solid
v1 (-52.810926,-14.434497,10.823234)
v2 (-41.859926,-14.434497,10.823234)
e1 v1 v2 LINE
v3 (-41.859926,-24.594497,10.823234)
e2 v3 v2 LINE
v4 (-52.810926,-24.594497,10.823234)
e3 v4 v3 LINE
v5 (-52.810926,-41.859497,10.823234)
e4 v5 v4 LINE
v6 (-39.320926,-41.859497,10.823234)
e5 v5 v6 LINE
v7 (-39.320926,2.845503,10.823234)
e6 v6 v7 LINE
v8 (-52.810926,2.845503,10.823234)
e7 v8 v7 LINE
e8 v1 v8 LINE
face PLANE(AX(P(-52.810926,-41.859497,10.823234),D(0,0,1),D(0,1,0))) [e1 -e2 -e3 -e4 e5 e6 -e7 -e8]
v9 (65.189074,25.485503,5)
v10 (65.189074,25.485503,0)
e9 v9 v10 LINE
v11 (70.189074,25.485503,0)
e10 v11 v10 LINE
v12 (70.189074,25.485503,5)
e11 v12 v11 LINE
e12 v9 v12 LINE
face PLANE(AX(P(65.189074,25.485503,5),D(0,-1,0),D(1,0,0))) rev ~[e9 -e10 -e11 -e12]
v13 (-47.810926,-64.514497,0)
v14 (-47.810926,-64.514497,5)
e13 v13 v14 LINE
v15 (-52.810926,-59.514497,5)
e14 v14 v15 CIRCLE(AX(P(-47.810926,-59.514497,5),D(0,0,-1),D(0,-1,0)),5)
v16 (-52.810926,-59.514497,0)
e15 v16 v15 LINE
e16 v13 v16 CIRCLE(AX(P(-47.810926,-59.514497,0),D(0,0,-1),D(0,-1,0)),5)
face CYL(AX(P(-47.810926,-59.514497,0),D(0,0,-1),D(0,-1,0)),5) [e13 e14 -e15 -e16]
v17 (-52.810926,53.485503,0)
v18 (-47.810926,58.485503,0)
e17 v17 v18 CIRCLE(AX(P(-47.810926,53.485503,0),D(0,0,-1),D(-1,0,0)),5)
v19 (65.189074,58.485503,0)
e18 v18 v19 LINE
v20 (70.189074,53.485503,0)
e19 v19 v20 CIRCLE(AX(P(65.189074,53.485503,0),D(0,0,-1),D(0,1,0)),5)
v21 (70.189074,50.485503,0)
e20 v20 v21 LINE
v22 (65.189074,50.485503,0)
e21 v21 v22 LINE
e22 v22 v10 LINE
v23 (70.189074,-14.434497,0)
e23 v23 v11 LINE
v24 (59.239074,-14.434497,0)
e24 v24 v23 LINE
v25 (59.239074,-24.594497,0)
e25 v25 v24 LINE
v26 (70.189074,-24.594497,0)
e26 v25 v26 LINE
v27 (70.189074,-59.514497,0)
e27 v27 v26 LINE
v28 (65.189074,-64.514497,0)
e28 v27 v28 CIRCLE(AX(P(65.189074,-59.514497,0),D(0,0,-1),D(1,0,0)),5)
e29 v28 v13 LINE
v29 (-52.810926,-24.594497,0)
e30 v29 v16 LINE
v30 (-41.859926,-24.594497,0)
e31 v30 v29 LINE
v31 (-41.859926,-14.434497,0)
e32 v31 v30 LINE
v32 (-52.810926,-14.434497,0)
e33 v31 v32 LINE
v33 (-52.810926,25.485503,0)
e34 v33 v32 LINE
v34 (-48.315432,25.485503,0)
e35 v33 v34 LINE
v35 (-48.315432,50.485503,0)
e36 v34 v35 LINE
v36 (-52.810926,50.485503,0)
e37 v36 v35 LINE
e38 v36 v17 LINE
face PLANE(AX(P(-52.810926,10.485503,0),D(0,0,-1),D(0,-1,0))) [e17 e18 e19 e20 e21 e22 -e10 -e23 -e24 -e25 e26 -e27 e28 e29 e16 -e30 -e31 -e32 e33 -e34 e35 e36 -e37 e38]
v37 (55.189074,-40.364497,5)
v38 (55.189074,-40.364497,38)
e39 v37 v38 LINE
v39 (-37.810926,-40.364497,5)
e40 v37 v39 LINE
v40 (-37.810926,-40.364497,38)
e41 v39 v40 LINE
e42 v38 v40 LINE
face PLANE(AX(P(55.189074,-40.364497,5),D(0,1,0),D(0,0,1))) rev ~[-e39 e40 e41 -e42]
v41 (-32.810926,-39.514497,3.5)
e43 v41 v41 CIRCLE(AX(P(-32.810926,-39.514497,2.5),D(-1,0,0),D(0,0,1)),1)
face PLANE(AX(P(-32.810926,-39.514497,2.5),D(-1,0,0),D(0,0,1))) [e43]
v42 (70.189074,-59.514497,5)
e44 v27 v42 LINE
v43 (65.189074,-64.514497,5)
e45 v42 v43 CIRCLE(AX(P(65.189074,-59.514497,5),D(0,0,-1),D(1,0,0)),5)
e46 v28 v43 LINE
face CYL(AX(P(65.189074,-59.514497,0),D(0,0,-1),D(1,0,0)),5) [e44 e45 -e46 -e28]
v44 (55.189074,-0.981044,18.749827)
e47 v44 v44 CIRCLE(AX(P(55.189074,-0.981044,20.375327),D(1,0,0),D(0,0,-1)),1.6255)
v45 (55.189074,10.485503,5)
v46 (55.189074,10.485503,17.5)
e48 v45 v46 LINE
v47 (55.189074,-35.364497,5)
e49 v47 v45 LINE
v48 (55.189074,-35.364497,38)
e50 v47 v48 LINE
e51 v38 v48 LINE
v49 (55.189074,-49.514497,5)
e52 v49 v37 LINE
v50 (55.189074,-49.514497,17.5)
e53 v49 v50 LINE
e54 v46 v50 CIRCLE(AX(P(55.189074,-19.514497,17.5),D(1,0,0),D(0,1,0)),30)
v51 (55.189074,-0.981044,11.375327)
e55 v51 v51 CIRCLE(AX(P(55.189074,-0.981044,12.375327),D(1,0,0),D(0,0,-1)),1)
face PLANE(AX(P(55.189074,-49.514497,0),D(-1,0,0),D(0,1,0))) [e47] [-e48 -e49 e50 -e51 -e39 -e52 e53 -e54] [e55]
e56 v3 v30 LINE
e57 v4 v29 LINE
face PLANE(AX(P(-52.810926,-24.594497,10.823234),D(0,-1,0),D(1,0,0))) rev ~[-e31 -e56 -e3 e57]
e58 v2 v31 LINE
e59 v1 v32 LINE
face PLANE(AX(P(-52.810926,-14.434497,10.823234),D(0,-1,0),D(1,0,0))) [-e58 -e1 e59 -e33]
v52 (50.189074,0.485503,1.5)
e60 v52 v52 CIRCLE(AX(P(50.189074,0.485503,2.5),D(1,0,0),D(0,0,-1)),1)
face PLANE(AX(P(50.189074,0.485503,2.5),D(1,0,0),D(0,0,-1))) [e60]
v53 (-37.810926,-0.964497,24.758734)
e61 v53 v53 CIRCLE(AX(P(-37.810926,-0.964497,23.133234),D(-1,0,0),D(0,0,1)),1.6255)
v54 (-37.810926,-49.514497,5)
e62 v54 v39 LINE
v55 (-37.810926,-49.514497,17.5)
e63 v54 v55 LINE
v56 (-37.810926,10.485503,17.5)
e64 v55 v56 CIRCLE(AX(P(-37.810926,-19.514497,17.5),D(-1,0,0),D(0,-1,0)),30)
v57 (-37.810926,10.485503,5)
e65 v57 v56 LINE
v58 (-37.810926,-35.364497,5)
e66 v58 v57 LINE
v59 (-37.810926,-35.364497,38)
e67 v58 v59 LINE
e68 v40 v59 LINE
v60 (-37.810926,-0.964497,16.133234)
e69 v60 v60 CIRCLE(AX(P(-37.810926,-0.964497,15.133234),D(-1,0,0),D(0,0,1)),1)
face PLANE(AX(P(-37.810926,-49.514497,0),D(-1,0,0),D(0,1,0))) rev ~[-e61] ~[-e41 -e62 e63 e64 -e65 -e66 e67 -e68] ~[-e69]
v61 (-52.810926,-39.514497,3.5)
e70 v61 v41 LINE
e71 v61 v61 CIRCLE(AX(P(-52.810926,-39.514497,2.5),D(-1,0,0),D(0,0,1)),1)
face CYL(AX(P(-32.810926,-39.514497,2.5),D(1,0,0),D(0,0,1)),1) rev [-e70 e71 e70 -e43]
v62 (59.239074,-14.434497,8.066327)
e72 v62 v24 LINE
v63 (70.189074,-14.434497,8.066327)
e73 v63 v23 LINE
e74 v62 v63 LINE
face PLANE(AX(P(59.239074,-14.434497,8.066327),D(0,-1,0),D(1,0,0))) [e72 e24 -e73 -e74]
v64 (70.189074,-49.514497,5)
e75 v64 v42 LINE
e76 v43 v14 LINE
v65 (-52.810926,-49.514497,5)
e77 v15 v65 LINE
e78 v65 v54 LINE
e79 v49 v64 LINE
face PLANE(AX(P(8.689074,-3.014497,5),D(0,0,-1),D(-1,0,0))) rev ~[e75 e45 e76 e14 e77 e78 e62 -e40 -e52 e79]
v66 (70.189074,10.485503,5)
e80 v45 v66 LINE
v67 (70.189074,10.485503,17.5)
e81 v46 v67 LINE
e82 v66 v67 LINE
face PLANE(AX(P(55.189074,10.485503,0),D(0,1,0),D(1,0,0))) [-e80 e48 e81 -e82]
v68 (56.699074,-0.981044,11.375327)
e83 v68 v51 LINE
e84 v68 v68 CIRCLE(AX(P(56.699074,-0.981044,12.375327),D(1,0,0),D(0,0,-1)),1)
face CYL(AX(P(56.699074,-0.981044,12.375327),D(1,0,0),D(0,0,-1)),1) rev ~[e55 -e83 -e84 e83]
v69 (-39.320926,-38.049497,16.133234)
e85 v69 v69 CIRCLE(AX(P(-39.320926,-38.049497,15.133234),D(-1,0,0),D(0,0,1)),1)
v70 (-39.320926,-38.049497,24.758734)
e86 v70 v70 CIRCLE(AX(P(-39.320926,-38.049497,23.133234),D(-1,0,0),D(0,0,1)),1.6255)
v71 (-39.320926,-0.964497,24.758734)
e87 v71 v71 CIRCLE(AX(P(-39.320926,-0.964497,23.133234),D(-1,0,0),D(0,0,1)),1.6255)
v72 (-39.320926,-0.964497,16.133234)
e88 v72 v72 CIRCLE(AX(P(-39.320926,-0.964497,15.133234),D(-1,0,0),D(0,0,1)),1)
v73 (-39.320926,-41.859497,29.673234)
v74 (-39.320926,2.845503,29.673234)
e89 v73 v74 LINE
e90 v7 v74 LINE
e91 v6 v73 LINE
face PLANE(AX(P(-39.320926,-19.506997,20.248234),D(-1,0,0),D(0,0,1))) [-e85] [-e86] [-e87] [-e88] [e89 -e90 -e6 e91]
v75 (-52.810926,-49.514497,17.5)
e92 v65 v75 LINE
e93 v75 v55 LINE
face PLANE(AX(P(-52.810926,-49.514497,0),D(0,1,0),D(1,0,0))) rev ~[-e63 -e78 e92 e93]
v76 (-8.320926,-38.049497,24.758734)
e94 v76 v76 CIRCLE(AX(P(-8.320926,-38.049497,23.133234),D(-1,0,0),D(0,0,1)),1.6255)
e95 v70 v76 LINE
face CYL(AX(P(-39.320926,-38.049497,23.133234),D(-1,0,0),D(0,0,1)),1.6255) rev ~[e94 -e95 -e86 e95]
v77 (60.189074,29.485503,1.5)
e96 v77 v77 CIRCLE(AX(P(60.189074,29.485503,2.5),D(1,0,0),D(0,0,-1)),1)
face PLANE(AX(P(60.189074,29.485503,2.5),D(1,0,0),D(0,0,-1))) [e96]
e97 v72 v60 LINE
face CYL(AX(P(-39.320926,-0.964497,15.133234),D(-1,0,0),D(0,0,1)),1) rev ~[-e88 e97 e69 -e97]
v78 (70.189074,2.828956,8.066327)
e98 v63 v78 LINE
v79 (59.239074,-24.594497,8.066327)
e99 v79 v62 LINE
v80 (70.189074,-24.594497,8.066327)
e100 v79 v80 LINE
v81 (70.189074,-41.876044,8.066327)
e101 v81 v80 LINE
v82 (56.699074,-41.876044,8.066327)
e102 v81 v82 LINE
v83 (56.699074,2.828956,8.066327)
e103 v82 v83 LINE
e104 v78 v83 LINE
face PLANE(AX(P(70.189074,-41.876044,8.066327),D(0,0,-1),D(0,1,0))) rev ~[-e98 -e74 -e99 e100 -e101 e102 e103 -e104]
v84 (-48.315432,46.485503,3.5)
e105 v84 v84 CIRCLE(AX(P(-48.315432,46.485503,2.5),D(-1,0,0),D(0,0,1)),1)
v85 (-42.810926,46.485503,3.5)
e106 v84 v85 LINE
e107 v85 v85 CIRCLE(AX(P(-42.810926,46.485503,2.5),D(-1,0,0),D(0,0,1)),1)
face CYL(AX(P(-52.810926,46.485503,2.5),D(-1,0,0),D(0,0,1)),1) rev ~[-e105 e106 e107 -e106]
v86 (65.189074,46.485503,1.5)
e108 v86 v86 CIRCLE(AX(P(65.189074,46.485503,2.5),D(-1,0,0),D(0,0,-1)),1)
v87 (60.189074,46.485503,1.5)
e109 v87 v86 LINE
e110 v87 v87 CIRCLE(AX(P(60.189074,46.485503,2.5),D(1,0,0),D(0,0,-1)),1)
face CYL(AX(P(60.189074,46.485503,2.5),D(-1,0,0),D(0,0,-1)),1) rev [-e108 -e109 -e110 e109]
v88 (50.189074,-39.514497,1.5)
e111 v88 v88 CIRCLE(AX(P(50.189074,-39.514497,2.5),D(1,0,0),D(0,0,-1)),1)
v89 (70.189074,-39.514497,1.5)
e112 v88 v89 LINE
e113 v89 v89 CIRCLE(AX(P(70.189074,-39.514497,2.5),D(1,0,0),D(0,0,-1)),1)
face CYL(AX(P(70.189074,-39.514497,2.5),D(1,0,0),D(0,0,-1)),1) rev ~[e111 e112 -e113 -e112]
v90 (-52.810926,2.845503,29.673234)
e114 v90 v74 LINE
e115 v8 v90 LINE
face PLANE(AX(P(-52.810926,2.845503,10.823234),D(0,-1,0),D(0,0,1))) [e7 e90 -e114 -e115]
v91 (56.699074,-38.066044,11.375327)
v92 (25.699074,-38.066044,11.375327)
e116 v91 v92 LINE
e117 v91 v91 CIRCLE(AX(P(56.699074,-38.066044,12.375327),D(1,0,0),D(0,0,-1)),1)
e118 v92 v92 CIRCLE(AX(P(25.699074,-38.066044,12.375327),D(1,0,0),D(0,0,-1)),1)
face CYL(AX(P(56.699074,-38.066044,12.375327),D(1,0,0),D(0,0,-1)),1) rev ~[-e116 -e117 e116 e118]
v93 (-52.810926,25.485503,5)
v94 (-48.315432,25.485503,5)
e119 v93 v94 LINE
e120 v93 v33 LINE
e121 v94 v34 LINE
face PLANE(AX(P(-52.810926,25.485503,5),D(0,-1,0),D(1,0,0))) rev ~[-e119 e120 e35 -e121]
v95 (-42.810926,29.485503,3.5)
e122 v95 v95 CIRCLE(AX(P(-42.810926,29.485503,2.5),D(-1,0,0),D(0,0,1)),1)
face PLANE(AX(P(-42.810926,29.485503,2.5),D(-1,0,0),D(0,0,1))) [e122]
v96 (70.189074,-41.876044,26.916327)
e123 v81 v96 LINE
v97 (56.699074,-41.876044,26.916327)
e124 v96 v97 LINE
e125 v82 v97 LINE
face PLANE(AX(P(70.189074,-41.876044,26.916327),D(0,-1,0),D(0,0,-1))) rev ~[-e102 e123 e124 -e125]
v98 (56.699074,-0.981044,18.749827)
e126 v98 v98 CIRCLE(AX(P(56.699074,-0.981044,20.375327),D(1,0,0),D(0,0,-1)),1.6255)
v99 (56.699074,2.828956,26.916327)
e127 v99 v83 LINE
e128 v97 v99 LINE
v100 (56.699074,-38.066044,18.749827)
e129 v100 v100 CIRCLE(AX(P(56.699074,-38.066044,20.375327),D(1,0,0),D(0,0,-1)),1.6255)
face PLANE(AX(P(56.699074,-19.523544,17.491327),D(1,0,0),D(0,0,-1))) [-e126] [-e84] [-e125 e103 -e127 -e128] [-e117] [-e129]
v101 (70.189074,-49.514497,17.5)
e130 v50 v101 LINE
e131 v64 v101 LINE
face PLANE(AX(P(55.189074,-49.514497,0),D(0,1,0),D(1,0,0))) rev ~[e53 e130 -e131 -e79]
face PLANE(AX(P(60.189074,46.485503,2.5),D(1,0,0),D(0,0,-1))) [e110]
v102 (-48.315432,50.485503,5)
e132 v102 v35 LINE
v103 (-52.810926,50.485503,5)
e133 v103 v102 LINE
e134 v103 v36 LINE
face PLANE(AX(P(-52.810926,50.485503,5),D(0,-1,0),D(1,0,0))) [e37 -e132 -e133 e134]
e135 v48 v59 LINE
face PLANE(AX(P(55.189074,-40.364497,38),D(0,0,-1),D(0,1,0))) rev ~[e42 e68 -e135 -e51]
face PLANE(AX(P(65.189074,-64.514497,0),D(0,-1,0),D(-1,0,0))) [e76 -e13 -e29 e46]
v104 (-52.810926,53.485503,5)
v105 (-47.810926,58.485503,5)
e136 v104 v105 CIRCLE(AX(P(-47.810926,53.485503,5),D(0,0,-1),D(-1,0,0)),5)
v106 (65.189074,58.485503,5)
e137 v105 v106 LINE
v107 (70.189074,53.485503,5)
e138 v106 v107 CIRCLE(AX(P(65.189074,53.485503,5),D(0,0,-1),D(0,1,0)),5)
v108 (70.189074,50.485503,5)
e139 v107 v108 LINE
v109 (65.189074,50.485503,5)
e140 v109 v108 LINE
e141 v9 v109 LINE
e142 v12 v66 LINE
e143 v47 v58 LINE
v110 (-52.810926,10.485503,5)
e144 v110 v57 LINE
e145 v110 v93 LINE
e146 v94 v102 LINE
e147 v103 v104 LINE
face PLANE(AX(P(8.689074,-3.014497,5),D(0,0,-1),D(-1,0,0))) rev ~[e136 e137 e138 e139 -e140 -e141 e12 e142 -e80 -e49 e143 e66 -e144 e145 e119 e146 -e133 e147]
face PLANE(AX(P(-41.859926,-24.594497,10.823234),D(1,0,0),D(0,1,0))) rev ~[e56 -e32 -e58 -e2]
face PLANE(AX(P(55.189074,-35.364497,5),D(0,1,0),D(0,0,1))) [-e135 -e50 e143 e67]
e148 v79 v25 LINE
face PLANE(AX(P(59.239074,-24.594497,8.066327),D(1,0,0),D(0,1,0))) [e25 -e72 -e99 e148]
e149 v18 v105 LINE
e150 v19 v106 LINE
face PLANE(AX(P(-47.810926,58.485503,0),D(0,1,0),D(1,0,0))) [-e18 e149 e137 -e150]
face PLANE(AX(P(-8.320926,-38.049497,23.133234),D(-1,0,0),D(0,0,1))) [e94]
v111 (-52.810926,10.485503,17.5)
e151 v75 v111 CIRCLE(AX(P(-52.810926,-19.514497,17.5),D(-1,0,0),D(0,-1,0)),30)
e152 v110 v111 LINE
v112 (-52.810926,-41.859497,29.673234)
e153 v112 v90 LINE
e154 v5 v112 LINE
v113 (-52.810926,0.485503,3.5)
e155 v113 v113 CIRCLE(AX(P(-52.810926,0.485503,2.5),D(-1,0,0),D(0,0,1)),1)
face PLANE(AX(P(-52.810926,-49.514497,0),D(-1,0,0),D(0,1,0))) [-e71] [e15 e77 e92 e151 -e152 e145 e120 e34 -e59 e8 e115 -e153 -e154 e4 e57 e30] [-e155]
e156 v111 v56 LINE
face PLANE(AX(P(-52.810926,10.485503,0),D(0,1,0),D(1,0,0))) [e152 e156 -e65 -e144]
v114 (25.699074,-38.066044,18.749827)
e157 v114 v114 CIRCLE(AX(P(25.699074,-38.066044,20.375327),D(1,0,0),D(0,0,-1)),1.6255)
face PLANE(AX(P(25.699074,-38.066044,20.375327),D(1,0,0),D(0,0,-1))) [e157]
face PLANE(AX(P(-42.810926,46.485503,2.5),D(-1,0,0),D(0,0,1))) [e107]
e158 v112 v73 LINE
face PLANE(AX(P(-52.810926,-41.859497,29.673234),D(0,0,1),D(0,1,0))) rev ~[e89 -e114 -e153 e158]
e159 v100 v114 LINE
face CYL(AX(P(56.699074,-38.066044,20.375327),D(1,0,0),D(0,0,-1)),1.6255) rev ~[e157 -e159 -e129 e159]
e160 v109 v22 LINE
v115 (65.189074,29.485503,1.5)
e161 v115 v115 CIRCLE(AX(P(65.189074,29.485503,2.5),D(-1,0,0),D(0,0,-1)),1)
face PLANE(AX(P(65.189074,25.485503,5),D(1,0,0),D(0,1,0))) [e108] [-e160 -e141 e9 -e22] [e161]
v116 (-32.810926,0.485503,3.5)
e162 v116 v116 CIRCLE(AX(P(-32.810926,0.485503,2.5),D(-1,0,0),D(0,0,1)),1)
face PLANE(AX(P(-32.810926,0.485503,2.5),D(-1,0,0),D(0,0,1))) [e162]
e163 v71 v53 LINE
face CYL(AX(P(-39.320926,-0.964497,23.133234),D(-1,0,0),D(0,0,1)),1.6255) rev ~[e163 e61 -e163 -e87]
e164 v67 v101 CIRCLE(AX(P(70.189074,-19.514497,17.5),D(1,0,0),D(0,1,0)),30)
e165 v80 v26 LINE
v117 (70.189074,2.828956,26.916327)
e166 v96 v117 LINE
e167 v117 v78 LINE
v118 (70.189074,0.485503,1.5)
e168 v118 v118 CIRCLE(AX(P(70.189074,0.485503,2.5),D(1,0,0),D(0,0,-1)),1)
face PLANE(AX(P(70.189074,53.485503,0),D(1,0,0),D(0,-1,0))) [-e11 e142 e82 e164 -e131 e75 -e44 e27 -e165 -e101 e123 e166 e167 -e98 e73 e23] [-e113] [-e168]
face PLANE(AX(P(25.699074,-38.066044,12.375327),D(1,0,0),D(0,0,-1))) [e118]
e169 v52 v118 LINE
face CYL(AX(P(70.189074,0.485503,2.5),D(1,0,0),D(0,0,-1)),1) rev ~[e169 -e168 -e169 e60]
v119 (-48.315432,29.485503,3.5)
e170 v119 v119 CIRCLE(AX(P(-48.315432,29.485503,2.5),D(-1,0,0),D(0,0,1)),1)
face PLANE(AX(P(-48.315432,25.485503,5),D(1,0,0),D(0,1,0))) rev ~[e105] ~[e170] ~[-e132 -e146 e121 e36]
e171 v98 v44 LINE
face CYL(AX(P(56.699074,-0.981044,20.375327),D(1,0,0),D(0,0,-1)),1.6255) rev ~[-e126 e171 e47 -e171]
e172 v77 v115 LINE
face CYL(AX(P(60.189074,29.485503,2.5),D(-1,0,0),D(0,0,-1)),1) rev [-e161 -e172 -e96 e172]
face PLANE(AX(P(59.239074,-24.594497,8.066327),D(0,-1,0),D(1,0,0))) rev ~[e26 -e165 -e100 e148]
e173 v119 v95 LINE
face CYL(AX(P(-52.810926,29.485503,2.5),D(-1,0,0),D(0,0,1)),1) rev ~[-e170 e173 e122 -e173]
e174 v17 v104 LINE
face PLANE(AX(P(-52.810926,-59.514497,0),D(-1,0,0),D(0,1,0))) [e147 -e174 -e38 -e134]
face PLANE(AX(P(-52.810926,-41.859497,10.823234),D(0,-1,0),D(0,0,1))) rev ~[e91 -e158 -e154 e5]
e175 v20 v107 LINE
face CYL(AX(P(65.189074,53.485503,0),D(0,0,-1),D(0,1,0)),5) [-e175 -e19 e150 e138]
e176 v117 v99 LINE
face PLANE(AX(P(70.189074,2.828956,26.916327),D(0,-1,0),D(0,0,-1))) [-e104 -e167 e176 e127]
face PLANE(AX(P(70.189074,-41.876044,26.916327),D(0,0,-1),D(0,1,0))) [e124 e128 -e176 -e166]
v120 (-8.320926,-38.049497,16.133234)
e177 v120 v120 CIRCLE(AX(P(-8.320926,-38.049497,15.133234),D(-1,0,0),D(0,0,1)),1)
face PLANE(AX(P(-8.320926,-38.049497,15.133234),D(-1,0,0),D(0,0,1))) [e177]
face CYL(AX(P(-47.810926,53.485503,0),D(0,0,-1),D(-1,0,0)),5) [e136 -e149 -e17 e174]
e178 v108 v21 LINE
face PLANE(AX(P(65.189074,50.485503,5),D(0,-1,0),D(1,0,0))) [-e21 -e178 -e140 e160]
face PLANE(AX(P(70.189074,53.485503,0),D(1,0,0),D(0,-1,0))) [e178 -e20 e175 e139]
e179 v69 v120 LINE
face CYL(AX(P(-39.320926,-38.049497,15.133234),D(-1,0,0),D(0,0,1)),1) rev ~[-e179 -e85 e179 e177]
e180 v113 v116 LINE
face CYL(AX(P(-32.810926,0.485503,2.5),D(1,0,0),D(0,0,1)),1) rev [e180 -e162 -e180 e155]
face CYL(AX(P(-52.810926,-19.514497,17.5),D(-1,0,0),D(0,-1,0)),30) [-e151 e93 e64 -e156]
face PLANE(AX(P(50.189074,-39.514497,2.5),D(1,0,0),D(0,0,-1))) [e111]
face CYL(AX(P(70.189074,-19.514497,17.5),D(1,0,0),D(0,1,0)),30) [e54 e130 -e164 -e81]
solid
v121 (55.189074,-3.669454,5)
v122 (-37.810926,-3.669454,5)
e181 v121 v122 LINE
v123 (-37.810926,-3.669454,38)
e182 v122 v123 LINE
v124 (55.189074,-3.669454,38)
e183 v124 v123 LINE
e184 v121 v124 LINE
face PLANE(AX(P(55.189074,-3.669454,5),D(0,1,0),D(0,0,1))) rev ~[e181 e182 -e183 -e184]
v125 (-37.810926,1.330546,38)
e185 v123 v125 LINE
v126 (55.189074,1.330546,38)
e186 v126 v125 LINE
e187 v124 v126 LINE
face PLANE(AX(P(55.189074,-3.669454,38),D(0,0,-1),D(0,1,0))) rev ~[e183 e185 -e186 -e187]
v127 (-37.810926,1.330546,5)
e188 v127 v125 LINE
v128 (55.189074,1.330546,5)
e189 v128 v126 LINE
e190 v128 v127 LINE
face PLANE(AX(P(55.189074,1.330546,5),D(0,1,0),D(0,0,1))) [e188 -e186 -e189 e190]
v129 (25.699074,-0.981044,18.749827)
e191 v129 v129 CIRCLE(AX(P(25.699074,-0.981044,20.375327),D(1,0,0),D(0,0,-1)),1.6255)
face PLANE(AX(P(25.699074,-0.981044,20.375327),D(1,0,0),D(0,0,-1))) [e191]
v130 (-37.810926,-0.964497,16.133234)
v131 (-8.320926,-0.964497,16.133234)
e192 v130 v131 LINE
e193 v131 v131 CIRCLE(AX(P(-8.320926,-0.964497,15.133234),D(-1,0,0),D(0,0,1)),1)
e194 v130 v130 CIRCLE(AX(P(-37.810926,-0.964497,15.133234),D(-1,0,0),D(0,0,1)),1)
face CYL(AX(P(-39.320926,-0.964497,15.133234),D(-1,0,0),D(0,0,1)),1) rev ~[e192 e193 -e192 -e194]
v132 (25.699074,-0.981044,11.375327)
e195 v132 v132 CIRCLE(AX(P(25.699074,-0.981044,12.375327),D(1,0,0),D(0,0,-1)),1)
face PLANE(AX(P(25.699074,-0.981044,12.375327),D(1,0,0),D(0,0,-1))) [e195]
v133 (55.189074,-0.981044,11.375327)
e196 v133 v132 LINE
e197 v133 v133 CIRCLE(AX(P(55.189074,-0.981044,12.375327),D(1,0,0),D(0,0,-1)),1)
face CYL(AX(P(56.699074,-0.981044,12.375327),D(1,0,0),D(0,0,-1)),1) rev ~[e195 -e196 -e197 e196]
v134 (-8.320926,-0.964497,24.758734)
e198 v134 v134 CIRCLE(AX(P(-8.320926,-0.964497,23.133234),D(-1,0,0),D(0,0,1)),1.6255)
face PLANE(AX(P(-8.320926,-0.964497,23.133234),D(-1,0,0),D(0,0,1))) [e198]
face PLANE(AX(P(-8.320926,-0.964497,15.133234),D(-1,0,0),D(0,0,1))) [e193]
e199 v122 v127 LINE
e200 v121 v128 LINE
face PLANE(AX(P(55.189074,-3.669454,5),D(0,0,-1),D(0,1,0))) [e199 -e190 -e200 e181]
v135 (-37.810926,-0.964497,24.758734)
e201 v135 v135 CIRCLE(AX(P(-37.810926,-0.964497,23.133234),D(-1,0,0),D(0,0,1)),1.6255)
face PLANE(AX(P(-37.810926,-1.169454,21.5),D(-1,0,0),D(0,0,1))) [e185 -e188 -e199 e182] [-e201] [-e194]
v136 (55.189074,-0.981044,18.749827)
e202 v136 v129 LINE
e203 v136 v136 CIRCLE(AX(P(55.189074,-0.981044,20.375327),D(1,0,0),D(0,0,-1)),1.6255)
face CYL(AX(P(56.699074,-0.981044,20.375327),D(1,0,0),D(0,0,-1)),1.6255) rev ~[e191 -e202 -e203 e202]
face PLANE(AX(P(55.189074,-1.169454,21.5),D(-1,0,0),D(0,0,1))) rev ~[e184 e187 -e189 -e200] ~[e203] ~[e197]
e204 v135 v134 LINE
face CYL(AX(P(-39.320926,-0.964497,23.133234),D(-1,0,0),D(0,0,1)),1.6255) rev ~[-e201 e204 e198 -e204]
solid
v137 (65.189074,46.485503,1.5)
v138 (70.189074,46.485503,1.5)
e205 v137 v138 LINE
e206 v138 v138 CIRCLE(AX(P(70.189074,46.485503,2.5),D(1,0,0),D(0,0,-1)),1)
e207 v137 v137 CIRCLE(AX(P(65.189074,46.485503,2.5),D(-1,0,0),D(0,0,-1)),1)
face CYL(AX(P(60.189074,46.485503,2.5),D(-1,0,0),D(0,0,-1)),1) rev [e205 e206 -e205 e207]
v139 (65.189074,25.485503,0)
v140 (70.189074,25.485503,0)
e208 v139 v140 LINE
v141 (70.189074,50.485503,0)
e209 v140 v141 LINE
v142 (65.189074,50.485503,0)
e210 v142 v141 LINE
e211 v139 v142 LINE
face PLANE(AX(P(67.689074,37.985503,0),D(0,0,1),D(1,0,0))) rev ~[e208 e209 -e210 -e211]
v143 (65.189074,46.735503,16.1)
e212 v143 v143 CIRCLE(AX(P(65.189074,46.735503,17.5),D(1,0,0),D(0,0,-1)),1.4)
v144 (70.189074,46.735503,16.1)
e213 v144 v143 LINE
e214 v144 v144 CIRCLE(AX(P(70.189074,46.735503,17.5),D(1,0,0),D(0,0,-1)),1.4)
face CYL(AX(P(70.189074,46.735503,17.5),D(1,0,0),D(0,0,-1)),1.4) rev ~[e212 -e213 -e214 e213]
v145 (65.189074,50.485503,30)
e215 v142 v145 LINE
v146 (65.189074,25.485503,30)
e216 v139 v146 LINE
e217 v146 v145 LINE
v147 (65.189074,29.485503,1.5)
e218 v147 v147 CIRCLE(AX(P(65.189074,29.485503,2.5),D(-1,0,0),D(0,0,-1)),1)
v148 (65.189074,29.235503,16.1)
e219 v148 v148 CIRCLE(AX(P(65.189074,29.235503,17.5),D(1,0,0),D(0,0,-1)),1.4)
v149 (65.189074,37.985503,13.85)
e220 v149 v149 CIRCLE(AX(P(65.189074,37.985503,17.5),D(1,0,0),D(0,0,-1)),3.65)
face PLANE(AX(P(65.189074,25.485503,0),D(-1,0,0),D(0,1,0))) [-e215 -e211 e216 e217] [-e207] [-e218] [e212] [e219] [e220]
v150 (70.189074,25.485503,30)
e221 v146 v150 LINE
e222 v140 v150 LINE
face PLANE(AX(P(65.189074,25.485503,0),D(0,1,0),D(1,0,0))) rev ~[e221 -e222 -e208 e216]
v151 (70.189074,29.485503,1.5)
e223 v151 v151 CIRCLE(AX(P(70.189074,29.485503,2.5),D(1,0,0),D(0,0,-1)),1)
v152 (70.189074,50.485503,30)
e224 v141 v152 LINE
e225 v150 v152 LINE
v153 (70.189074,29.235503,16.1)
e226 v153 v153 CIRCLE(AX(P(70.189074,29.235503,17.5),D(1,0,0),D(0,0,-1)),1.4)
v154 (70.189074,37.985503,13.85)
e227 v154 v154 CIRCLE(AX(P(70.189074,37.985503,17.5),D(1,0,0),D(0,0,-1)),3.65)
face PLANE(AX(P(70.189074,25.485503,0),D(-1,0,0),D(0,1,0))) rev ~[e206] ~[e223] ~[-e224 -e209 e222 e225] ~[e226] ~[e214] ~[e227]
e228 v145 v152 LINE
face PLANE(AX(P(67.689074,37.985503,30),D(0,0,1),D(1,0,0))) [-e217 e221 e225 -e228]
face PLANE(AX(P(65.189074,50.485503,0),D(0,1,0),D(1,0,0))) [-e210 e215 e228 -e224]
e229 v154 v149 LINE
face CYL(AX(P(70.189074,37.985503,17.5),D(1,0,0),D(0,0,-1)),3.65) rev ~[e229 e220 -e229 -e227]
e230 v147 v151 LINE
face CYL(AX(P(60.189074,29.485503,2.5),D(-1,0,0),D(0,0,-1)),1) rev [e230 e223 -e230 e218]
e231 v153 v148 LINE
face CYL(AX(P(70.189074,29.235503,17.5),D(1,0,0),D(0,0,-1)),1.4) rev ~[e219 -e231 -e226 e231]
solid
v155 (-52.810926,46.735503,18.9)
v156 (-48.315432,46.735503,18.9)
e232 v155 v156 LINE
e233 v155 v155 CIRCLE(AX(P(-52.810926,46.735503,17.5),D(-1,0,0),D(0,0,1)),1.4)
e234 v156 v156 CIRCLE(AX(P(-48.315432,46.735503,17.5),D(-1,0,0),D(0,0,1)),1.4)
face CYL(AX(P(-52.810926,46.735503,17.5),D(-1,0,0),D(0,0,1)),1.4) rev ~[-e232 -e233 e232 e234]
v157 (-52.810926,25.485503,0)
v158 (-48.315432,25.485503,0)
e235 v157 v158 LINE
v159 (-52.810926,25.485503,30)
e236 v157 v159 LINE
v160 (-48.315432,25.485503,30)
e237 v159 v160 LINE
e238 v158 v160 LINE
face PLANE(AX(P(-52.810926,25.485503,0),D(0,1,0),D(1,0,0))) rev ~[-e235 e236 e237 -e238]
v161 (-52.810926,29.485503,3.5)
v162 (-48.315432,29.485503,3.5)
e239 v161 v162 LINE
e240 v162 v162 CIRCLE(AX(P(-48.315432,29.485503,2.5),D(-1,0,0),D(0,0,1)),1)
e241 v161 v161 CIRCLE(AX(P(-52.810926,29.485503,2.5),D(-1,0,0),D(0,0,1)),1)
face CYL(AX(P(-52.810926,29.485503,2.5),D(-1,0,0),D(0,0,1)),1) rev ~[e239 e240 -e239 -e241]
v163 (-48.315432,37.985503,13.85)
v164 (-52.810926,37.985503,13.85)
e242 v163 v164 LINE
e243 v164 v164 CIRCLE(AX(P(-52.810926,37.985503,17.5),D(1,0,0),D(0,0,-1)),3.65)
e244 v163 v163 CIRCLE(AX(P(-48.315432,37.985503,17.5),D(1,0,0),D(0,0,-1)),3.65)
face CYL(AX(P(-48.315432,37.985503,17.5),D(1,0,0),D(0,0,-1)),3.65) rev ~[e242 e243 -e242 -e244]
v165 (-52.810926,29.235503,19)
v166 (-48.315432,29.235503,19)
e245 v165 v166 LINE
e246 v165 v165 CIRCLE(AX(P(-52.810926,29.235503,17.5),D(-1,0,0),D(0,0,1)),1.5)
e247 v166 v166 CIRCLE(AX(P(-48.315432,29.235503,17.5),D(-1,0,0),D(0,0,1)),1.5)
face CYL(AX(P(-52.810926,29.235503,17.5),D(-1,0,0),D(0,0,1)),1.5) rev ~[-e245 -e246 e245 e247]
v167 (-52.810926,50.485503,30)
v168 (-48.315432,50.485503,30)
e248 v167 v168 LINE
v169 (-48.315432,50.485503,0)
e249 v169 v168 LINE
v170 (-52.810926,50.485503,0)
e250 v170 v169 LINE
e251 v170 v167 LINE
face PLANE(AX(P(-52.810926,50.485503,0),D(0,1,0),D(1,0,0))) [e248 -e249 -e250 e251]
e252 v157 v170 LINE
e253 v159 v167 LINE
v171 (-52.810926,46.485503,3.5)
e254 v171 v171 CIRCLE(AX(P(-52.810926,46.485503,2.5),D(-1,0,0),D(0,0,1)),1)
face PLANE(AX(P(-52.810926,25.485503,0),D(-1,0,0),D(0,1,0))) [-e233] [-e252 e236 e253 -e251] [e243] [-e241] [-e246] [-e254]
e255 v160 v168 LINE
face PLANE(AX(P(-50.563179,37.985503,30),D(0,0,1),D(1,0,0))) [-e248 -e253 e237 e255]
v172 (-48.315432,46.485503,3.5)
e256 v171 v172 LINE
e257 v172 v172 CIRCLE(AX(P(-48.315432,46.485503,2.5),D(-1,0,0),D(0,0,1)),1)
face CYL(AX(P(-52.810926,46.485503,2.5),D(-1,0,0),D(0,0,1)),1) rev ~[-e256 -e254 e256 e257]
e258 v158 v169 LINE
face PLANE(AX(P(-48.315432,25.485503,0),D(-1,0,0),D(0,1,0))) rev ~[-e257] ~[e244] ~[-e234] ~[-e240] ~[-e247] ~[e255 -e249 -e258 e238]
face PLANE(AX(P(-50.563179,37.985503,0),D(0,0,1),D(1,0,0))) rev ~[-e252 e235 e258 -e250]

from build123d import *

# Parameters (mm, degrees)
RESSALTO_EXTRUS_O1_DEPTH      = 5
ESBO_O4_W                     = 4.495494134
ESBO_O4_H                     = 25
CORTE_EXTRUS_O2_DEPTH         = 5
RESSALTO_EXTRUS_O2_DEPTH      = 25
RESSALTO_EXTRUS_O2_DEPTH_BACK = 5
ESBO_O5_W                     = 4.495494134
ESBO_O5_H                     = 25
ESBO_O6_R                     = 1
CORTE_EXTRUS_O3_DEPTH         = 10
ESBO_O7_R                     = 1
CORTE_EXTRUS_O4_DEPTH         = 10
ESBO_O8_R                     = 3.65
CORTE_EXTRUS_O5_DEPTH         = 10
ESBO_O9_R                     = 1.4
CORTE_EXTRUS_O6_DEPTH         = 10
ESBO_O10_R                    = 1.5
CORTE_EXTRUS_O7_DEPTH         = 10
ESBO_O11_W                    = 5
ESBO_O11_H                    = 25
CORTE_EXTRUS_O8_DEPTH         = 10
RESSALTO_EXTRUS_O3_DEPTH      = 25
RESSALTO_EXTRUS_O3_DEPTH_BACK = 5
ESBO_O16_W                    = 5
ESBO_O16_H                    = 25
CORTE_EXTRUS_O9_START         = -10
ESBO_O17_R                    = 1
CORTE_EXTRUS_O9_DEPTH         = 10
CORTE_EXTRUS_O10_START        = -10
ESBO_O18_R                    = 1
CORTE_EXTRUS_O10_DEPTH        = 10
ESBO_O20_R                    = 3.65
CORTE_EXTRUS_O11_DEPTH        = 6
ESBO_O22_R                    = 1.4
CORTE_EXTRUS_O12_DEPTH        = 5
ESBO_O23_R                    = 1.4
CORTE_EXTRUS_O13_DEPTH        = 5
ESBO_O24_W                    = 15
ESBO_O24_H                    = 60
CORTE_EXTRUS_O14_DEPTH        = 10
ESBO_O27_W                    = 15
ESBO_O27_H                    = 60
CORTE_EXTRUS_O16_DEPTH        = 25
RESSALTO_EXTRUS_O7_DEPTH      = 12.5
RESSALTO_EXTRUS_O7_DEPTH_BACK = 5
ESBO_O32_W                    = 15
ESBO_O32_H                    = 60
RESSALTO_EXTRUS_O8_DEPTH      = 15
RESSALTO_EXTRUS_O9_DEPTH      = 12.5
RESSALTO_EXTRUS_O9_DEPTH_BACK = 5
ESBO_O34_W                    = 15
ESBO_O34_H                    = 60
RESSALTO_EXTRUS_O10_DEPTH     = 15
ESBO_O36_R                    = 1
CORTE_EXTRUS_O18_DEPTH        = 20
CORTE_EXTRUS_O19_START        = -20
ESBO_O37_R                    = 1
CORTE_EXTRUS_O19_DEPTH        = 20
ESBO_O39_W                    = 18.85
ESBO_O39_H                    = 44.705
CORTE_EXTRUS_O20_DEPTH        = 13.49
ESBO_O43_W                    = 10.95
ESBO_O43_H                    = 10.16
CORTE_EXTRUS_O23_DEPTH        = 10
ESBO_O44_W                    = 33
ESBO_O44_H                    = 5
RESSALTO_EXTRUS_O11_DEPTH     = 93
ESBO_O47_W                    = 33
ESBO_O47_H                    = 5
RESSALTO_EXTRUS_O12_DEPTH     = 93
ESBO_O41_R                    = 1.6255
ESBO_O41_R_2                  = 1
CORTE_EXTRUS_O25_DEPTH        = 31
ESBO_O42_R                    = 1.6255
ESBO_O42_R_2                  = 1
CORTE_EXTRUS_O26_DEPTH        = 31
ESBO_O52_W                    = 18.85
ESBO_O52_H                    = 44.705
CORTE_EXTRUS_O27_DEPTH        = 13.49
ESBO_O54_W                    = 10.951
ESBO_O54_H                    = 10.16
CORTE_EXTRUS_O28_DEPTH        = 24
ESBO_O55_R                    = 1.6255
ESBO_O55_R_2                  = 1
CORTE_EXTRUS_O29_DEPTH        = 31


with BuildPart() as part:
    # Esboço1 → Ressalto-extrusão1 (new body)
    with BuildSketch(Plane.XY):
        with BuildLine():
            Line((-47.810925728, 58.485502959), (65.189074272, 58.485502959))
            ThreePointArc((65.189074272, 58.485502959), (68.724608178, 57.021036865), (70.189074272, 53.485502959))
            Line((70.189074272, 53.485502959), (70.189074272, -59.514497041))
            ThreePointArc((70.189074272, -59.514497041), (68.724608178, -63.050030947), (65.189074272, -64.514497041))
            Line((65.189074272, -64.514497041), (-47.810925728, -64.514497041))
            ThreePointArc((-47.810925728, -64.514497041), (-51.346459634, -63.050030947), (-52.810925728, -59.514497041))
            Line((-52.810925728, -59.514497041), (-52.810925728, 53.485502959))
            ThreePointArc((-52.810925728, 53.485502959), (-51.346459634, 57.021036865), (-47.810925728, 58.485502959))
        make_face()
    extrude(amount=RESSALTO_EXTRUS_O1_DEPTH)

    # Esboço4 → Corte-extrusão2 (cut)
    with BuildSketch(Plane.XY.offset(5)):
        with Locations((-50.563178661, 37.985502959)):
            Rectangle(ESBO_O4_W, ESBO_O4_H)
    extrude(amount=-CORTE_EXTRUS_O2_DEPTH, mode=Mode.SUBTRACT)


with BuildPart() as body_2:
    # Esboço5 → Ressalto-extrusão2 (new, two sides: drawn at the far end of the back side and taken through both)
    with BuildSketch(Plane.XY.offset(5).offset(-RESSALTO_EXTRUS_O2_DEPTH_BACK)):
        with Locations((-50.563178661, 37.985502959)):
            Rectangle(ESBO_O5_W, ESBO_O5_H)
    extrude(amount=RESSALTO_EXTRUS_O2_DEPTH + RESSALTO_EXTRUS_O2_DEPTH_BACK)


with BuildPart() as corte_extrus_o3_tool:
    # Esboço6 → Corte-extrusão3 (new body)
    with BuildSketch(Plane.ZY.offset(52.810925728)):
        with Locations((2.5, 46.485502959)):
            Circle(ESBO_O6_R)
    extrude(amount=-CORTE_EXTRUS_O3_DEPTH)


with BuildPart() as part_1:
    add(part.part)

    # Corte-extrusão3: cut by corte_extrus_o3_tool
    add(corte_extrus_o3_tool.part, mode=Mode.SUBTRACT)


with BuildPart() as body_2_1:
    add(body_2.part)

    # Corte-extrusão3: cut by corte_extrus_o3_tool
    add(corte_extrus_o3_tool.part, mode=Mode.SUBTRACT)


with BuildPart() as corte_extrus_o4_tool:
    # Esboço7 → Corte-extrusão4 (new body)
    with BuildSketch(Plane.ZY.offset(52.810925728)):
        with Locations((2.5, 29.485502959)):
            Circle(ESBO_O7_R)
    extrude(amount=-CORTE_EXTRUS_O4_DEPTH)


with BuildPart() as part_2:
    add(part_1.part)

    # Corte-extrusão4: cut by corte_extrus_o4_tool
    add(corte_extrus_o4_tool.part, mode=Mode.SUBTRACT)

    # Esboço11 → Corte-extrusão8 (cut)
    with BuildSketch(Plane.XY.offset(5)):
        with Locations((67.689074272, 37.985502959)):
            Rectangle(ESBO_O11_W, ESBO_O11_H)
    extrude(amount=-CORTE_EXTRUS_O8_DEPTH, mode=Mode.SUBTRACT)


with BuildPart() as body_2_2:
    add(body_2_1.part)

    # Corte-extrusão4: cut by corte_extrus_o4_tool
    add(corte_extrus_o4_tool.part, mode=Mode.SUBTRACT)

    # Esboço8 → Corte-extrusão5 (cut)
    with BuildSketch(Plane(origin=(-48.315431594, 0, 0), x_dir=(0, 0, -1), z_dir=(1, 0, 0))):
        with Locations((-17.5, 37.985502959)):
            Circle(ESBO_O8_R)
    extrude(amount=-CORTE_EXTRUS_O5_DEPTH, mode=Mode.SUBTRACT)

    # Esboço9 → Corte-extrusão6 (cut)
    with BuildSketch(Plane.ZY.offset(52.810925728)):
        with Locations((17.5, 46.735502959)):
            Circle(ESBO_O9_R)
    extrude(amount=-CORTE_EXTRUS_O6_DEPTH, mode=Mode.SUBTRACT)

    # Esboço10 → Corte-extrusão7 (cut)
    with BuildSketch(Plane.ZY.offset(52.810925728)):
        with Locations((17.5, 29.235502959)):
            Circle(ESBO_O10_R)
    extrude(amount=-CORTE_EXTRUS_O7_DEPTH, mode=Mode.SUBTRACT)


with BuildPart() as body_3:
    # Esboço16 → Ressalto-extrusão3 (new, two sides: drawn at the far end of the back side and taken through both)
    with BuildSketch(Plane.XY.offset(5).offset(-RESSALTO_EXTRUS_O3_DEPTH_BACK)):
        with Locations((67.689074272, 37.985502959)):
            Rectangle(ESBO_O16_W, ESBO_O16_H)
    extrude(amount=RESSALTO_EXTRUS_O3_DEPTH + RESSALTO_EXTRUS_O3_DEPTH_BACK)


with BuildPart() as corte_extrus_o9_tool:
    # Esboço17 → Corte-extrusão9 (new body)
    with BuildSketch(Plane(origin=(70.189074272, 0, 0), x_dir=(0, 0, -1), z_dir=(1, 0, 0)).offset(CORTE_EXTRUS_O9_START)):
        with Locations((-2.5, 46.485502959)):
            Circle(ESBO_O17_R)
    extrude(amount=CORTE_EXTRUS_O9_DEPTH)


with BuildPart() as part_3:
    add(part_2.part)

    # Corte-extrusão9: cut by corte_extrus_o9_tool
    add(corte_extrus_o9_tool.part, mode=Mode.SUBTRACT)


with BuildPart() as body_3_1:
    add(body_3.part)

    # Corte-extrusão9: cut by corte_extrus_o9_tool
    add(corte_extrus_o9_tool.part, mode=Mode.SUBTRACT)


with BuildPart() as corte_extrus_o10_tool:
    # Esboço18 → Corte-extrusão10 (new body)
    with BuildSketch(Plane(origin=(70.189074272, 0, 0), x_dir=(0, 0, -1), z_dir=(1, 0, 0)).offset(CORTE_EXTRUS_O10_START)):
        with Locations((-2.5, 29.485502959)):
            Circle(ESBO_O18_R)
    extrude(amount=CORTE_EXTRUS_O10_DEPTH)


with BuildPart() as part_4:
    add(part_3.part)

    # Corte-extrusão10: cut by corte_extrus_o10_tool
    add(corte_extrus_o10_tool.part, mode=Mode.SUBTRACT)

    # Esboço24 → Corte-extrusão14 (cut)
    with BuildSketch(Plane.XY.offset(5)):
        with Locations((-45.310925728, -19.514497041)):
            Rectangle(ESBO_O24_W, ESBO_O24_H)
    extrude(amount=-CORTE_EXTRUS_O14_DEPTH, mode=Mode.SUBTRACT)

    # Esboço27 → Corte-extrusão16 (cut)
    with BuildSketch(Plane.XY.offset(5)):
        with Locations((62.689074272, -19.514497041)):
            Rectangle(ESBO_O27_W, ESBO_O27_H)
    extrude(amount=-CORTE_EXTRUS_O16_DEPTH, mode=Mode.SUBTRACT)


with BuildPart() as body_3_2:
    add(body_3_1.part)

    # Corte-extrusão10: cut by corte_extrus_o10_tool
    add(corte_extrus_o10_tool.part, mode=Mode.SUBTRACT)

    # Esboço20 → Corte-extrusão11 (cut)
    with BuildSketch(Plane(origin=(70.189074272, 0, 0), x_dir=(0, 0, -1), z_dir=(1, 0, 0))):
        with Locations((-17.5, 37.985502959)):
            Circle(ESBO_O20_R)
    extrude(amount=-CORTE_EXTRUS_O11_DEPTH, mode=Mode.SUBTRACT)

    # Esboço22 → Corte-extrusão12 (cut)
    with BuildSketch(Plane(origin=(70.189074272, 0, 0), x_dir=(0, 0, -1), z_dir=(1, 0, 0))):
        with Locations((-17.5, 46.735502959)):
            Circle(ESBO_O22_R)
    extrude(amount=-CORTE_EXTRUS_O12_DEPTH, mode=Mode.SUBTRACT)

    # Esboço23 → Corte-extrusão13 (cut)
    with BuildSketch(Plane(origin=(70.189074272, 0, 0), x_dir=(0, 0, -1), z_dir=(1, 0, 0))):
        with Locations((-17.5, 29.235502959)):
            Circle(ESBO_O23_R)
    extrude(amount=-CORTE_EXTRUS_O13_DEPTH, mode=Mode.SUBTRACT)


with BuildPart() as body_4:
    # Esboço32 → Ressalto-extrusão7 (new, two sides: drawn at the far end of the back side and taken through both)
    with BuildSketch(Plane.XY.offset(5).offset(-RESSALTO_EXTRUS_O7_DEPTH_BACK)):
        with Locations((-45.310925728, -19.514497041)):
            Rectangle(ESBO_O32_W, ESBO_O32_H)
    extrude(amount=RESSALTO_EXTRUS_O7_DEPTH + RESSALTO_EXTRUS_O7_DEPTH_BACK)


with BuildPart() as body_5:
    # Esboço33 → Ressalto-extrusão8 (new body)
    with BuildSketch(Plane.ZY.offset(52.810925728)):
        with BuildLine():
            Line((0, -49.514497041), (17.5, -49.514497041))
            ThreePointArc((17.5, -49.514497041), (47.5, -19.514497041), (17.5, 10.485502959))
            Line((17.5, 10.485502959), (0, 10.485502959))
            Line((0, 10.485502959), (0, -49.514497041))
        make_face()
    extrude(amount=-RESSALTO_EXTRUS_O8_DEPTH)


with BuildPart() as body_6:
    # Esboço34 → Ressalto-extrusão9 (new, two sides: drawn at the far end of the back side and taken through both)
    with BuildSketch(Plane.XY.offset(5).offset(-RESSALTO_EXTRUS_O9_DEPTH_BACK)):
        with Locations((62.689074272, -19.514497041)):
            Rectangle(ESBO_O34_W, ESBO_O34_H)
    extrude(amount=RESSALTO_EXTRUS_O9_DEPTH + RESSALTO_EXTRUS_O9_DEPTH_BACK)


with BuildPart() as body_7:
    # Esboço35 → Ressalto-extrusão10 (new body)
    with BuildSketch(Plane(origin=(70.189074272, 0, 0), x_dir=(0, 0, -1), z_dir=(1, 0, 0))):
        with BuildLine():
            Line((0, 10.485502959), (-17.5, 10.485502959))
            ThreePointArc((-17.5, 10.485502959), (-47.5, -19.514497041), (-17.5, -49.514497041))
            Line((-17.5, -49.514497041), (0, -49.514497041))
            Line((0, -49.514497041), (0, 10.485502959))
        make_face()
    extrude(amount=-RESSALTO_EXTRUS_O10_DEPTH)


with BuildPart() as corte_extrus_o18_tool:
    # Esboço36 → Corte-extrusão18 (new body)
    with BuildSketch(Plane(origin=(70.189074272, 0, 0), x_dir=(0, 0, -1), z_dir=(1, 0, 0))):
        with Locations((-2.5, -39.514497041)):
            Circle(ESBO_O36_R)
        with Locations((-2.5, 0.485502959)):
            Circle(ESBO_O36_R)
    extrude(amount=-CORTE_EXTRUS_O18_DEPTH)


with BuildPart() as part_5:
    add(part_4.part)

    # Corte-extrusão18: cut by corte_extrus_o18_tool
    add(corte_extrus_o18_tool.part, mode=Mode.SUBTRACT)


with BuildPart() as body_6_1:
    add(body_6.part)

    # Corte-extrusão18: cut by corte_extrus_o18_tool
    add(corte_extrus_o18_tool.part, mode=Mode.SUBTRACT)


with BuildPart() as body_7_1:
    add(body_7.part)

    # Corte-extrusão18: cut by corte_extrus_o18_tool
    add(corte_extrus_o18_tool.part, mode=Mode.SUBTRACT)


with BuildPart() as corte_extrus_o19_tool:
    # Esboço37 → Corte-extrusão19 (new body)
    with BuildSketch(Plane.ZY.offset(52.810925728).offset(CORTE_EXTRUS_O19_START)):
        with Locations((2.5, 0.485502959)):
            Circle(ESBO_O37_R)
        with Locations((2.5, -39.514497041)):
            Circle(ESBO_O37_R)
    extrude(amount=CORTE_EXTRUS_O19_DEPTH)


with BuildPart() as part_6:
    add(part_5.part)

    # Corte-extrusão19: cut by corte_extrus_o19_tool
    add(corte_extrus_o19_tool.part, mode=Mode.SUBTRACT)



with BuildPart() as body_4_1:
    add(body_4.part)

    # Corte-extrusão19: cut by corte_extrus_o19_tool
    add(corte_extrus_o19_tool.part, mode=Mode.SUBTRACT)


with BuildPart() as body_5_1:
    add(body_5.part)

    # Corte-extrusão19: cut by corte_extrus_o19_tool
    add(corte_extrus_o19_tool.part, mode=Mode.SUBTRACT)


with BuildPart() as corte_extrus_o20_tool:
    # Esboço39 → Corte-extrusão20 (new body)
    with BuildSketch(Plane(origin=(70.189074272, 0, 0), x_dir=(0, 0, -1), z_dir=(1, 0, 0))):
        with Locations((-17.491326567, -19.523544175)):
            Rectangle(ESBO_O39_W, ESBO_O39_H)
    extrude(amount=-CORTE_EXTRUS_O20_DEPTH)


with BuildPart() as body_6_2:
    add(body_6_1.part)

    # Corte-extrusão20: cut by corte_extrus_o20_tool
    add(corte_extrus_o20_tool.part, mode=Mode.SUBTRACT)


with BuildPart() as body_7_2:
    add(body_7_1.part)

    # Corte-extrusão20: cut by corte_extrus_o20_tool
    add(corte_extrus_o20_tool.part, mode=Mode.SUBTRACT)


with BuildPart() as corte_extrus_o23_tool:
    # Esboço43 → Corte-extrusão23 (new body)
    with BuildSketch(Plane.XY.offset(8.066326567)):
        with Locations((64.714074272, -19.514497041)):
            Rectangle(ESBO_O43_W, ESBO_O43_H)
    extrude(amount=-CORTE_EXTRUS_O23_DEPTH)


with BuildPart() as body_6_3:
    add(body_6_2.part)

    # Corte-extrusão23: cut by corte_extrus_o23_tool
    add(corte_extrus_o23_tool.part, mode=Mode.SUBTRACT)


with BuildPart() as body_7_3:
    add(body_7_2.part)

    # Corte-extrusão23: cut by corte_extrus_o23_tool
    add(corte_extrus_o23_tool.part, mode=Mode.SUBTRACT)


with BuildPart() as body_8:
    # Esboço44 → Ressalto-extrusão11 (new body)
    with BuildSketch(Plane.ZY.offset(-55.189074272)):
        with Locations((21.5, -1.169454191)):
            Rectangle(ESBO_O44_W, ESBO_O44_H)
    extrude(amount=RESSALTO_EXTRUS_O11_DEPTH)


with BuildPart() as part_7:
    add(part_6.part)

    add(body_4_1.part)  # Ressalto-extrusão12 merges body 4

    add(body_5_1.part)  # Ressalto-extrusão12 merges body 5

    add(body_6_3.part)  # Ressalto-extrusão12 merges body 6

    add(body_7_3.part)  # Ressalto-extrusão12 merges body 7
    # Esboço47 → Ressalto-extrusão12 (add)
    with BuildSketch(Plane.ZY.offset(-55.189074272)):
        with Locations((21.5, -37.864497041)):
            Rectangle(ESBO_O47_W, ESBO_O47_H)
    extrude(amount=RESSALTO_EXTRUS_O12_DEPTH)


with BuildPart() as corte_extrus_o25_tool:
    # Esboço41 → Corte-extrusão25 (new body)
    with BuildSketch(Plane(origin=(56.699074272, 0, 0), x_dir=(0, 0, -1), z_dir=(1, 0, 0))):
        with Locations((-20.375326567, -0.981044175)):
            Circle(ESBO_O41_R)
        with Locations((-12.375326567, -0.981044175)):
            Circle(ESBO_O41_R_2)
    extrude(amount=-CORTE_EXTRUS_O25_DEPTH)


with BuildPart() as part_8:
    add(part_7.part)

    # Corte-extrusão25: cut by corte_extrus_o25_tool
    add(corte_extrus_o25_tool.part, mode=Mode.SUBTRACT)

    # Esboço42 → Corte-extrusão26 (cut)
    with BuildSketch(Plane(origin=(56.699074272, 0, 0), x_dir=(0, 0, -1), z_dir=(1, 0, 0))):
        with Locations((-20.375326567, -38.066044175)):
            Circle(ESBO_O42_R)
        with Locations((-12.375326567, -38.066044175)):
            Circle(ESBO_O42_R_2)
    extrude(amount=-CORTE_EXTRUS_O26_DEPTH, mode=Mode.SUBTRACT)

    # Esboço52 → Corte-extrusão27 (cut)
    with BuildSketch(Plane.ZY.offset(52.810925728)):
        with Locations((20.248234245, -19.506997041)):
            Rectangle(ESBO_O52_W, ESBO_O52_H)
    extrude(amount=-CORTE_EXTRUS_O27_DEPTH, mode=Mode.SUBTRACT)

    # Esboço54 → Corte-extrusão28 (cut)
    with BuildSketch(Plane.XY.offset(10.823234245)):
        with Locations((-47.335425728, -19.514497041)):
            Rectangle(ESBO_O54_W, ESBO_O54_H)
    extrude(amount=-CORTE_EXTRUS_O28_DEPTH, mode=Mode.SUBTRACT)


with BuildPart() as body_8_1:
    add(body_8.part)

    # Corte-extrusão25: cut by corte_extrus_o25_tool
    add(corte_extrus_o25_tool.part, mode=Mode.SUBTRACT)


with BuildPart() as corte_extrus_o29_tool:
    # Esboço55 → Corte-extrusão29 (new body)
    with BuildSketch(Plane.ZY.offset(39.320925728)):
        with Locations((23.133234245, -0.964497041)):
            Circle(ESBO_O55_R)
        with Locations((23.133234245, -38.049497041)):
            Circle(ESBO_O55_R)
        with Locations((15.133234245, -0.964497041)):
            Circle(ESBO_O55_R_2)
        with Locations((15.133234245, -38.049497041)):
            Circle(ESBO_O55_R_2)
    extrude(amount=-CORTE_EXTRUS_O29_DEPTH)


with BuildPart() as part_9:
    add(part_8.part)

    # Corte-extrusão29: cut by corte_extrus_o29_tool
    add(corte_extrus_o29_tool.part, mode=Mode.SUBTRACT)


with BuildPart() as body_8_2:
    add(body_8_1.part)

    # Corte-extrusão29: cut by corte_extrus_o29_tool
    add(corte_extrus_o29_tool.part, mode=Mode.SUBTRACT)


solid = Compound([body_2_2.part, body_3_2.part, part_9.part, body_8_2.part])
